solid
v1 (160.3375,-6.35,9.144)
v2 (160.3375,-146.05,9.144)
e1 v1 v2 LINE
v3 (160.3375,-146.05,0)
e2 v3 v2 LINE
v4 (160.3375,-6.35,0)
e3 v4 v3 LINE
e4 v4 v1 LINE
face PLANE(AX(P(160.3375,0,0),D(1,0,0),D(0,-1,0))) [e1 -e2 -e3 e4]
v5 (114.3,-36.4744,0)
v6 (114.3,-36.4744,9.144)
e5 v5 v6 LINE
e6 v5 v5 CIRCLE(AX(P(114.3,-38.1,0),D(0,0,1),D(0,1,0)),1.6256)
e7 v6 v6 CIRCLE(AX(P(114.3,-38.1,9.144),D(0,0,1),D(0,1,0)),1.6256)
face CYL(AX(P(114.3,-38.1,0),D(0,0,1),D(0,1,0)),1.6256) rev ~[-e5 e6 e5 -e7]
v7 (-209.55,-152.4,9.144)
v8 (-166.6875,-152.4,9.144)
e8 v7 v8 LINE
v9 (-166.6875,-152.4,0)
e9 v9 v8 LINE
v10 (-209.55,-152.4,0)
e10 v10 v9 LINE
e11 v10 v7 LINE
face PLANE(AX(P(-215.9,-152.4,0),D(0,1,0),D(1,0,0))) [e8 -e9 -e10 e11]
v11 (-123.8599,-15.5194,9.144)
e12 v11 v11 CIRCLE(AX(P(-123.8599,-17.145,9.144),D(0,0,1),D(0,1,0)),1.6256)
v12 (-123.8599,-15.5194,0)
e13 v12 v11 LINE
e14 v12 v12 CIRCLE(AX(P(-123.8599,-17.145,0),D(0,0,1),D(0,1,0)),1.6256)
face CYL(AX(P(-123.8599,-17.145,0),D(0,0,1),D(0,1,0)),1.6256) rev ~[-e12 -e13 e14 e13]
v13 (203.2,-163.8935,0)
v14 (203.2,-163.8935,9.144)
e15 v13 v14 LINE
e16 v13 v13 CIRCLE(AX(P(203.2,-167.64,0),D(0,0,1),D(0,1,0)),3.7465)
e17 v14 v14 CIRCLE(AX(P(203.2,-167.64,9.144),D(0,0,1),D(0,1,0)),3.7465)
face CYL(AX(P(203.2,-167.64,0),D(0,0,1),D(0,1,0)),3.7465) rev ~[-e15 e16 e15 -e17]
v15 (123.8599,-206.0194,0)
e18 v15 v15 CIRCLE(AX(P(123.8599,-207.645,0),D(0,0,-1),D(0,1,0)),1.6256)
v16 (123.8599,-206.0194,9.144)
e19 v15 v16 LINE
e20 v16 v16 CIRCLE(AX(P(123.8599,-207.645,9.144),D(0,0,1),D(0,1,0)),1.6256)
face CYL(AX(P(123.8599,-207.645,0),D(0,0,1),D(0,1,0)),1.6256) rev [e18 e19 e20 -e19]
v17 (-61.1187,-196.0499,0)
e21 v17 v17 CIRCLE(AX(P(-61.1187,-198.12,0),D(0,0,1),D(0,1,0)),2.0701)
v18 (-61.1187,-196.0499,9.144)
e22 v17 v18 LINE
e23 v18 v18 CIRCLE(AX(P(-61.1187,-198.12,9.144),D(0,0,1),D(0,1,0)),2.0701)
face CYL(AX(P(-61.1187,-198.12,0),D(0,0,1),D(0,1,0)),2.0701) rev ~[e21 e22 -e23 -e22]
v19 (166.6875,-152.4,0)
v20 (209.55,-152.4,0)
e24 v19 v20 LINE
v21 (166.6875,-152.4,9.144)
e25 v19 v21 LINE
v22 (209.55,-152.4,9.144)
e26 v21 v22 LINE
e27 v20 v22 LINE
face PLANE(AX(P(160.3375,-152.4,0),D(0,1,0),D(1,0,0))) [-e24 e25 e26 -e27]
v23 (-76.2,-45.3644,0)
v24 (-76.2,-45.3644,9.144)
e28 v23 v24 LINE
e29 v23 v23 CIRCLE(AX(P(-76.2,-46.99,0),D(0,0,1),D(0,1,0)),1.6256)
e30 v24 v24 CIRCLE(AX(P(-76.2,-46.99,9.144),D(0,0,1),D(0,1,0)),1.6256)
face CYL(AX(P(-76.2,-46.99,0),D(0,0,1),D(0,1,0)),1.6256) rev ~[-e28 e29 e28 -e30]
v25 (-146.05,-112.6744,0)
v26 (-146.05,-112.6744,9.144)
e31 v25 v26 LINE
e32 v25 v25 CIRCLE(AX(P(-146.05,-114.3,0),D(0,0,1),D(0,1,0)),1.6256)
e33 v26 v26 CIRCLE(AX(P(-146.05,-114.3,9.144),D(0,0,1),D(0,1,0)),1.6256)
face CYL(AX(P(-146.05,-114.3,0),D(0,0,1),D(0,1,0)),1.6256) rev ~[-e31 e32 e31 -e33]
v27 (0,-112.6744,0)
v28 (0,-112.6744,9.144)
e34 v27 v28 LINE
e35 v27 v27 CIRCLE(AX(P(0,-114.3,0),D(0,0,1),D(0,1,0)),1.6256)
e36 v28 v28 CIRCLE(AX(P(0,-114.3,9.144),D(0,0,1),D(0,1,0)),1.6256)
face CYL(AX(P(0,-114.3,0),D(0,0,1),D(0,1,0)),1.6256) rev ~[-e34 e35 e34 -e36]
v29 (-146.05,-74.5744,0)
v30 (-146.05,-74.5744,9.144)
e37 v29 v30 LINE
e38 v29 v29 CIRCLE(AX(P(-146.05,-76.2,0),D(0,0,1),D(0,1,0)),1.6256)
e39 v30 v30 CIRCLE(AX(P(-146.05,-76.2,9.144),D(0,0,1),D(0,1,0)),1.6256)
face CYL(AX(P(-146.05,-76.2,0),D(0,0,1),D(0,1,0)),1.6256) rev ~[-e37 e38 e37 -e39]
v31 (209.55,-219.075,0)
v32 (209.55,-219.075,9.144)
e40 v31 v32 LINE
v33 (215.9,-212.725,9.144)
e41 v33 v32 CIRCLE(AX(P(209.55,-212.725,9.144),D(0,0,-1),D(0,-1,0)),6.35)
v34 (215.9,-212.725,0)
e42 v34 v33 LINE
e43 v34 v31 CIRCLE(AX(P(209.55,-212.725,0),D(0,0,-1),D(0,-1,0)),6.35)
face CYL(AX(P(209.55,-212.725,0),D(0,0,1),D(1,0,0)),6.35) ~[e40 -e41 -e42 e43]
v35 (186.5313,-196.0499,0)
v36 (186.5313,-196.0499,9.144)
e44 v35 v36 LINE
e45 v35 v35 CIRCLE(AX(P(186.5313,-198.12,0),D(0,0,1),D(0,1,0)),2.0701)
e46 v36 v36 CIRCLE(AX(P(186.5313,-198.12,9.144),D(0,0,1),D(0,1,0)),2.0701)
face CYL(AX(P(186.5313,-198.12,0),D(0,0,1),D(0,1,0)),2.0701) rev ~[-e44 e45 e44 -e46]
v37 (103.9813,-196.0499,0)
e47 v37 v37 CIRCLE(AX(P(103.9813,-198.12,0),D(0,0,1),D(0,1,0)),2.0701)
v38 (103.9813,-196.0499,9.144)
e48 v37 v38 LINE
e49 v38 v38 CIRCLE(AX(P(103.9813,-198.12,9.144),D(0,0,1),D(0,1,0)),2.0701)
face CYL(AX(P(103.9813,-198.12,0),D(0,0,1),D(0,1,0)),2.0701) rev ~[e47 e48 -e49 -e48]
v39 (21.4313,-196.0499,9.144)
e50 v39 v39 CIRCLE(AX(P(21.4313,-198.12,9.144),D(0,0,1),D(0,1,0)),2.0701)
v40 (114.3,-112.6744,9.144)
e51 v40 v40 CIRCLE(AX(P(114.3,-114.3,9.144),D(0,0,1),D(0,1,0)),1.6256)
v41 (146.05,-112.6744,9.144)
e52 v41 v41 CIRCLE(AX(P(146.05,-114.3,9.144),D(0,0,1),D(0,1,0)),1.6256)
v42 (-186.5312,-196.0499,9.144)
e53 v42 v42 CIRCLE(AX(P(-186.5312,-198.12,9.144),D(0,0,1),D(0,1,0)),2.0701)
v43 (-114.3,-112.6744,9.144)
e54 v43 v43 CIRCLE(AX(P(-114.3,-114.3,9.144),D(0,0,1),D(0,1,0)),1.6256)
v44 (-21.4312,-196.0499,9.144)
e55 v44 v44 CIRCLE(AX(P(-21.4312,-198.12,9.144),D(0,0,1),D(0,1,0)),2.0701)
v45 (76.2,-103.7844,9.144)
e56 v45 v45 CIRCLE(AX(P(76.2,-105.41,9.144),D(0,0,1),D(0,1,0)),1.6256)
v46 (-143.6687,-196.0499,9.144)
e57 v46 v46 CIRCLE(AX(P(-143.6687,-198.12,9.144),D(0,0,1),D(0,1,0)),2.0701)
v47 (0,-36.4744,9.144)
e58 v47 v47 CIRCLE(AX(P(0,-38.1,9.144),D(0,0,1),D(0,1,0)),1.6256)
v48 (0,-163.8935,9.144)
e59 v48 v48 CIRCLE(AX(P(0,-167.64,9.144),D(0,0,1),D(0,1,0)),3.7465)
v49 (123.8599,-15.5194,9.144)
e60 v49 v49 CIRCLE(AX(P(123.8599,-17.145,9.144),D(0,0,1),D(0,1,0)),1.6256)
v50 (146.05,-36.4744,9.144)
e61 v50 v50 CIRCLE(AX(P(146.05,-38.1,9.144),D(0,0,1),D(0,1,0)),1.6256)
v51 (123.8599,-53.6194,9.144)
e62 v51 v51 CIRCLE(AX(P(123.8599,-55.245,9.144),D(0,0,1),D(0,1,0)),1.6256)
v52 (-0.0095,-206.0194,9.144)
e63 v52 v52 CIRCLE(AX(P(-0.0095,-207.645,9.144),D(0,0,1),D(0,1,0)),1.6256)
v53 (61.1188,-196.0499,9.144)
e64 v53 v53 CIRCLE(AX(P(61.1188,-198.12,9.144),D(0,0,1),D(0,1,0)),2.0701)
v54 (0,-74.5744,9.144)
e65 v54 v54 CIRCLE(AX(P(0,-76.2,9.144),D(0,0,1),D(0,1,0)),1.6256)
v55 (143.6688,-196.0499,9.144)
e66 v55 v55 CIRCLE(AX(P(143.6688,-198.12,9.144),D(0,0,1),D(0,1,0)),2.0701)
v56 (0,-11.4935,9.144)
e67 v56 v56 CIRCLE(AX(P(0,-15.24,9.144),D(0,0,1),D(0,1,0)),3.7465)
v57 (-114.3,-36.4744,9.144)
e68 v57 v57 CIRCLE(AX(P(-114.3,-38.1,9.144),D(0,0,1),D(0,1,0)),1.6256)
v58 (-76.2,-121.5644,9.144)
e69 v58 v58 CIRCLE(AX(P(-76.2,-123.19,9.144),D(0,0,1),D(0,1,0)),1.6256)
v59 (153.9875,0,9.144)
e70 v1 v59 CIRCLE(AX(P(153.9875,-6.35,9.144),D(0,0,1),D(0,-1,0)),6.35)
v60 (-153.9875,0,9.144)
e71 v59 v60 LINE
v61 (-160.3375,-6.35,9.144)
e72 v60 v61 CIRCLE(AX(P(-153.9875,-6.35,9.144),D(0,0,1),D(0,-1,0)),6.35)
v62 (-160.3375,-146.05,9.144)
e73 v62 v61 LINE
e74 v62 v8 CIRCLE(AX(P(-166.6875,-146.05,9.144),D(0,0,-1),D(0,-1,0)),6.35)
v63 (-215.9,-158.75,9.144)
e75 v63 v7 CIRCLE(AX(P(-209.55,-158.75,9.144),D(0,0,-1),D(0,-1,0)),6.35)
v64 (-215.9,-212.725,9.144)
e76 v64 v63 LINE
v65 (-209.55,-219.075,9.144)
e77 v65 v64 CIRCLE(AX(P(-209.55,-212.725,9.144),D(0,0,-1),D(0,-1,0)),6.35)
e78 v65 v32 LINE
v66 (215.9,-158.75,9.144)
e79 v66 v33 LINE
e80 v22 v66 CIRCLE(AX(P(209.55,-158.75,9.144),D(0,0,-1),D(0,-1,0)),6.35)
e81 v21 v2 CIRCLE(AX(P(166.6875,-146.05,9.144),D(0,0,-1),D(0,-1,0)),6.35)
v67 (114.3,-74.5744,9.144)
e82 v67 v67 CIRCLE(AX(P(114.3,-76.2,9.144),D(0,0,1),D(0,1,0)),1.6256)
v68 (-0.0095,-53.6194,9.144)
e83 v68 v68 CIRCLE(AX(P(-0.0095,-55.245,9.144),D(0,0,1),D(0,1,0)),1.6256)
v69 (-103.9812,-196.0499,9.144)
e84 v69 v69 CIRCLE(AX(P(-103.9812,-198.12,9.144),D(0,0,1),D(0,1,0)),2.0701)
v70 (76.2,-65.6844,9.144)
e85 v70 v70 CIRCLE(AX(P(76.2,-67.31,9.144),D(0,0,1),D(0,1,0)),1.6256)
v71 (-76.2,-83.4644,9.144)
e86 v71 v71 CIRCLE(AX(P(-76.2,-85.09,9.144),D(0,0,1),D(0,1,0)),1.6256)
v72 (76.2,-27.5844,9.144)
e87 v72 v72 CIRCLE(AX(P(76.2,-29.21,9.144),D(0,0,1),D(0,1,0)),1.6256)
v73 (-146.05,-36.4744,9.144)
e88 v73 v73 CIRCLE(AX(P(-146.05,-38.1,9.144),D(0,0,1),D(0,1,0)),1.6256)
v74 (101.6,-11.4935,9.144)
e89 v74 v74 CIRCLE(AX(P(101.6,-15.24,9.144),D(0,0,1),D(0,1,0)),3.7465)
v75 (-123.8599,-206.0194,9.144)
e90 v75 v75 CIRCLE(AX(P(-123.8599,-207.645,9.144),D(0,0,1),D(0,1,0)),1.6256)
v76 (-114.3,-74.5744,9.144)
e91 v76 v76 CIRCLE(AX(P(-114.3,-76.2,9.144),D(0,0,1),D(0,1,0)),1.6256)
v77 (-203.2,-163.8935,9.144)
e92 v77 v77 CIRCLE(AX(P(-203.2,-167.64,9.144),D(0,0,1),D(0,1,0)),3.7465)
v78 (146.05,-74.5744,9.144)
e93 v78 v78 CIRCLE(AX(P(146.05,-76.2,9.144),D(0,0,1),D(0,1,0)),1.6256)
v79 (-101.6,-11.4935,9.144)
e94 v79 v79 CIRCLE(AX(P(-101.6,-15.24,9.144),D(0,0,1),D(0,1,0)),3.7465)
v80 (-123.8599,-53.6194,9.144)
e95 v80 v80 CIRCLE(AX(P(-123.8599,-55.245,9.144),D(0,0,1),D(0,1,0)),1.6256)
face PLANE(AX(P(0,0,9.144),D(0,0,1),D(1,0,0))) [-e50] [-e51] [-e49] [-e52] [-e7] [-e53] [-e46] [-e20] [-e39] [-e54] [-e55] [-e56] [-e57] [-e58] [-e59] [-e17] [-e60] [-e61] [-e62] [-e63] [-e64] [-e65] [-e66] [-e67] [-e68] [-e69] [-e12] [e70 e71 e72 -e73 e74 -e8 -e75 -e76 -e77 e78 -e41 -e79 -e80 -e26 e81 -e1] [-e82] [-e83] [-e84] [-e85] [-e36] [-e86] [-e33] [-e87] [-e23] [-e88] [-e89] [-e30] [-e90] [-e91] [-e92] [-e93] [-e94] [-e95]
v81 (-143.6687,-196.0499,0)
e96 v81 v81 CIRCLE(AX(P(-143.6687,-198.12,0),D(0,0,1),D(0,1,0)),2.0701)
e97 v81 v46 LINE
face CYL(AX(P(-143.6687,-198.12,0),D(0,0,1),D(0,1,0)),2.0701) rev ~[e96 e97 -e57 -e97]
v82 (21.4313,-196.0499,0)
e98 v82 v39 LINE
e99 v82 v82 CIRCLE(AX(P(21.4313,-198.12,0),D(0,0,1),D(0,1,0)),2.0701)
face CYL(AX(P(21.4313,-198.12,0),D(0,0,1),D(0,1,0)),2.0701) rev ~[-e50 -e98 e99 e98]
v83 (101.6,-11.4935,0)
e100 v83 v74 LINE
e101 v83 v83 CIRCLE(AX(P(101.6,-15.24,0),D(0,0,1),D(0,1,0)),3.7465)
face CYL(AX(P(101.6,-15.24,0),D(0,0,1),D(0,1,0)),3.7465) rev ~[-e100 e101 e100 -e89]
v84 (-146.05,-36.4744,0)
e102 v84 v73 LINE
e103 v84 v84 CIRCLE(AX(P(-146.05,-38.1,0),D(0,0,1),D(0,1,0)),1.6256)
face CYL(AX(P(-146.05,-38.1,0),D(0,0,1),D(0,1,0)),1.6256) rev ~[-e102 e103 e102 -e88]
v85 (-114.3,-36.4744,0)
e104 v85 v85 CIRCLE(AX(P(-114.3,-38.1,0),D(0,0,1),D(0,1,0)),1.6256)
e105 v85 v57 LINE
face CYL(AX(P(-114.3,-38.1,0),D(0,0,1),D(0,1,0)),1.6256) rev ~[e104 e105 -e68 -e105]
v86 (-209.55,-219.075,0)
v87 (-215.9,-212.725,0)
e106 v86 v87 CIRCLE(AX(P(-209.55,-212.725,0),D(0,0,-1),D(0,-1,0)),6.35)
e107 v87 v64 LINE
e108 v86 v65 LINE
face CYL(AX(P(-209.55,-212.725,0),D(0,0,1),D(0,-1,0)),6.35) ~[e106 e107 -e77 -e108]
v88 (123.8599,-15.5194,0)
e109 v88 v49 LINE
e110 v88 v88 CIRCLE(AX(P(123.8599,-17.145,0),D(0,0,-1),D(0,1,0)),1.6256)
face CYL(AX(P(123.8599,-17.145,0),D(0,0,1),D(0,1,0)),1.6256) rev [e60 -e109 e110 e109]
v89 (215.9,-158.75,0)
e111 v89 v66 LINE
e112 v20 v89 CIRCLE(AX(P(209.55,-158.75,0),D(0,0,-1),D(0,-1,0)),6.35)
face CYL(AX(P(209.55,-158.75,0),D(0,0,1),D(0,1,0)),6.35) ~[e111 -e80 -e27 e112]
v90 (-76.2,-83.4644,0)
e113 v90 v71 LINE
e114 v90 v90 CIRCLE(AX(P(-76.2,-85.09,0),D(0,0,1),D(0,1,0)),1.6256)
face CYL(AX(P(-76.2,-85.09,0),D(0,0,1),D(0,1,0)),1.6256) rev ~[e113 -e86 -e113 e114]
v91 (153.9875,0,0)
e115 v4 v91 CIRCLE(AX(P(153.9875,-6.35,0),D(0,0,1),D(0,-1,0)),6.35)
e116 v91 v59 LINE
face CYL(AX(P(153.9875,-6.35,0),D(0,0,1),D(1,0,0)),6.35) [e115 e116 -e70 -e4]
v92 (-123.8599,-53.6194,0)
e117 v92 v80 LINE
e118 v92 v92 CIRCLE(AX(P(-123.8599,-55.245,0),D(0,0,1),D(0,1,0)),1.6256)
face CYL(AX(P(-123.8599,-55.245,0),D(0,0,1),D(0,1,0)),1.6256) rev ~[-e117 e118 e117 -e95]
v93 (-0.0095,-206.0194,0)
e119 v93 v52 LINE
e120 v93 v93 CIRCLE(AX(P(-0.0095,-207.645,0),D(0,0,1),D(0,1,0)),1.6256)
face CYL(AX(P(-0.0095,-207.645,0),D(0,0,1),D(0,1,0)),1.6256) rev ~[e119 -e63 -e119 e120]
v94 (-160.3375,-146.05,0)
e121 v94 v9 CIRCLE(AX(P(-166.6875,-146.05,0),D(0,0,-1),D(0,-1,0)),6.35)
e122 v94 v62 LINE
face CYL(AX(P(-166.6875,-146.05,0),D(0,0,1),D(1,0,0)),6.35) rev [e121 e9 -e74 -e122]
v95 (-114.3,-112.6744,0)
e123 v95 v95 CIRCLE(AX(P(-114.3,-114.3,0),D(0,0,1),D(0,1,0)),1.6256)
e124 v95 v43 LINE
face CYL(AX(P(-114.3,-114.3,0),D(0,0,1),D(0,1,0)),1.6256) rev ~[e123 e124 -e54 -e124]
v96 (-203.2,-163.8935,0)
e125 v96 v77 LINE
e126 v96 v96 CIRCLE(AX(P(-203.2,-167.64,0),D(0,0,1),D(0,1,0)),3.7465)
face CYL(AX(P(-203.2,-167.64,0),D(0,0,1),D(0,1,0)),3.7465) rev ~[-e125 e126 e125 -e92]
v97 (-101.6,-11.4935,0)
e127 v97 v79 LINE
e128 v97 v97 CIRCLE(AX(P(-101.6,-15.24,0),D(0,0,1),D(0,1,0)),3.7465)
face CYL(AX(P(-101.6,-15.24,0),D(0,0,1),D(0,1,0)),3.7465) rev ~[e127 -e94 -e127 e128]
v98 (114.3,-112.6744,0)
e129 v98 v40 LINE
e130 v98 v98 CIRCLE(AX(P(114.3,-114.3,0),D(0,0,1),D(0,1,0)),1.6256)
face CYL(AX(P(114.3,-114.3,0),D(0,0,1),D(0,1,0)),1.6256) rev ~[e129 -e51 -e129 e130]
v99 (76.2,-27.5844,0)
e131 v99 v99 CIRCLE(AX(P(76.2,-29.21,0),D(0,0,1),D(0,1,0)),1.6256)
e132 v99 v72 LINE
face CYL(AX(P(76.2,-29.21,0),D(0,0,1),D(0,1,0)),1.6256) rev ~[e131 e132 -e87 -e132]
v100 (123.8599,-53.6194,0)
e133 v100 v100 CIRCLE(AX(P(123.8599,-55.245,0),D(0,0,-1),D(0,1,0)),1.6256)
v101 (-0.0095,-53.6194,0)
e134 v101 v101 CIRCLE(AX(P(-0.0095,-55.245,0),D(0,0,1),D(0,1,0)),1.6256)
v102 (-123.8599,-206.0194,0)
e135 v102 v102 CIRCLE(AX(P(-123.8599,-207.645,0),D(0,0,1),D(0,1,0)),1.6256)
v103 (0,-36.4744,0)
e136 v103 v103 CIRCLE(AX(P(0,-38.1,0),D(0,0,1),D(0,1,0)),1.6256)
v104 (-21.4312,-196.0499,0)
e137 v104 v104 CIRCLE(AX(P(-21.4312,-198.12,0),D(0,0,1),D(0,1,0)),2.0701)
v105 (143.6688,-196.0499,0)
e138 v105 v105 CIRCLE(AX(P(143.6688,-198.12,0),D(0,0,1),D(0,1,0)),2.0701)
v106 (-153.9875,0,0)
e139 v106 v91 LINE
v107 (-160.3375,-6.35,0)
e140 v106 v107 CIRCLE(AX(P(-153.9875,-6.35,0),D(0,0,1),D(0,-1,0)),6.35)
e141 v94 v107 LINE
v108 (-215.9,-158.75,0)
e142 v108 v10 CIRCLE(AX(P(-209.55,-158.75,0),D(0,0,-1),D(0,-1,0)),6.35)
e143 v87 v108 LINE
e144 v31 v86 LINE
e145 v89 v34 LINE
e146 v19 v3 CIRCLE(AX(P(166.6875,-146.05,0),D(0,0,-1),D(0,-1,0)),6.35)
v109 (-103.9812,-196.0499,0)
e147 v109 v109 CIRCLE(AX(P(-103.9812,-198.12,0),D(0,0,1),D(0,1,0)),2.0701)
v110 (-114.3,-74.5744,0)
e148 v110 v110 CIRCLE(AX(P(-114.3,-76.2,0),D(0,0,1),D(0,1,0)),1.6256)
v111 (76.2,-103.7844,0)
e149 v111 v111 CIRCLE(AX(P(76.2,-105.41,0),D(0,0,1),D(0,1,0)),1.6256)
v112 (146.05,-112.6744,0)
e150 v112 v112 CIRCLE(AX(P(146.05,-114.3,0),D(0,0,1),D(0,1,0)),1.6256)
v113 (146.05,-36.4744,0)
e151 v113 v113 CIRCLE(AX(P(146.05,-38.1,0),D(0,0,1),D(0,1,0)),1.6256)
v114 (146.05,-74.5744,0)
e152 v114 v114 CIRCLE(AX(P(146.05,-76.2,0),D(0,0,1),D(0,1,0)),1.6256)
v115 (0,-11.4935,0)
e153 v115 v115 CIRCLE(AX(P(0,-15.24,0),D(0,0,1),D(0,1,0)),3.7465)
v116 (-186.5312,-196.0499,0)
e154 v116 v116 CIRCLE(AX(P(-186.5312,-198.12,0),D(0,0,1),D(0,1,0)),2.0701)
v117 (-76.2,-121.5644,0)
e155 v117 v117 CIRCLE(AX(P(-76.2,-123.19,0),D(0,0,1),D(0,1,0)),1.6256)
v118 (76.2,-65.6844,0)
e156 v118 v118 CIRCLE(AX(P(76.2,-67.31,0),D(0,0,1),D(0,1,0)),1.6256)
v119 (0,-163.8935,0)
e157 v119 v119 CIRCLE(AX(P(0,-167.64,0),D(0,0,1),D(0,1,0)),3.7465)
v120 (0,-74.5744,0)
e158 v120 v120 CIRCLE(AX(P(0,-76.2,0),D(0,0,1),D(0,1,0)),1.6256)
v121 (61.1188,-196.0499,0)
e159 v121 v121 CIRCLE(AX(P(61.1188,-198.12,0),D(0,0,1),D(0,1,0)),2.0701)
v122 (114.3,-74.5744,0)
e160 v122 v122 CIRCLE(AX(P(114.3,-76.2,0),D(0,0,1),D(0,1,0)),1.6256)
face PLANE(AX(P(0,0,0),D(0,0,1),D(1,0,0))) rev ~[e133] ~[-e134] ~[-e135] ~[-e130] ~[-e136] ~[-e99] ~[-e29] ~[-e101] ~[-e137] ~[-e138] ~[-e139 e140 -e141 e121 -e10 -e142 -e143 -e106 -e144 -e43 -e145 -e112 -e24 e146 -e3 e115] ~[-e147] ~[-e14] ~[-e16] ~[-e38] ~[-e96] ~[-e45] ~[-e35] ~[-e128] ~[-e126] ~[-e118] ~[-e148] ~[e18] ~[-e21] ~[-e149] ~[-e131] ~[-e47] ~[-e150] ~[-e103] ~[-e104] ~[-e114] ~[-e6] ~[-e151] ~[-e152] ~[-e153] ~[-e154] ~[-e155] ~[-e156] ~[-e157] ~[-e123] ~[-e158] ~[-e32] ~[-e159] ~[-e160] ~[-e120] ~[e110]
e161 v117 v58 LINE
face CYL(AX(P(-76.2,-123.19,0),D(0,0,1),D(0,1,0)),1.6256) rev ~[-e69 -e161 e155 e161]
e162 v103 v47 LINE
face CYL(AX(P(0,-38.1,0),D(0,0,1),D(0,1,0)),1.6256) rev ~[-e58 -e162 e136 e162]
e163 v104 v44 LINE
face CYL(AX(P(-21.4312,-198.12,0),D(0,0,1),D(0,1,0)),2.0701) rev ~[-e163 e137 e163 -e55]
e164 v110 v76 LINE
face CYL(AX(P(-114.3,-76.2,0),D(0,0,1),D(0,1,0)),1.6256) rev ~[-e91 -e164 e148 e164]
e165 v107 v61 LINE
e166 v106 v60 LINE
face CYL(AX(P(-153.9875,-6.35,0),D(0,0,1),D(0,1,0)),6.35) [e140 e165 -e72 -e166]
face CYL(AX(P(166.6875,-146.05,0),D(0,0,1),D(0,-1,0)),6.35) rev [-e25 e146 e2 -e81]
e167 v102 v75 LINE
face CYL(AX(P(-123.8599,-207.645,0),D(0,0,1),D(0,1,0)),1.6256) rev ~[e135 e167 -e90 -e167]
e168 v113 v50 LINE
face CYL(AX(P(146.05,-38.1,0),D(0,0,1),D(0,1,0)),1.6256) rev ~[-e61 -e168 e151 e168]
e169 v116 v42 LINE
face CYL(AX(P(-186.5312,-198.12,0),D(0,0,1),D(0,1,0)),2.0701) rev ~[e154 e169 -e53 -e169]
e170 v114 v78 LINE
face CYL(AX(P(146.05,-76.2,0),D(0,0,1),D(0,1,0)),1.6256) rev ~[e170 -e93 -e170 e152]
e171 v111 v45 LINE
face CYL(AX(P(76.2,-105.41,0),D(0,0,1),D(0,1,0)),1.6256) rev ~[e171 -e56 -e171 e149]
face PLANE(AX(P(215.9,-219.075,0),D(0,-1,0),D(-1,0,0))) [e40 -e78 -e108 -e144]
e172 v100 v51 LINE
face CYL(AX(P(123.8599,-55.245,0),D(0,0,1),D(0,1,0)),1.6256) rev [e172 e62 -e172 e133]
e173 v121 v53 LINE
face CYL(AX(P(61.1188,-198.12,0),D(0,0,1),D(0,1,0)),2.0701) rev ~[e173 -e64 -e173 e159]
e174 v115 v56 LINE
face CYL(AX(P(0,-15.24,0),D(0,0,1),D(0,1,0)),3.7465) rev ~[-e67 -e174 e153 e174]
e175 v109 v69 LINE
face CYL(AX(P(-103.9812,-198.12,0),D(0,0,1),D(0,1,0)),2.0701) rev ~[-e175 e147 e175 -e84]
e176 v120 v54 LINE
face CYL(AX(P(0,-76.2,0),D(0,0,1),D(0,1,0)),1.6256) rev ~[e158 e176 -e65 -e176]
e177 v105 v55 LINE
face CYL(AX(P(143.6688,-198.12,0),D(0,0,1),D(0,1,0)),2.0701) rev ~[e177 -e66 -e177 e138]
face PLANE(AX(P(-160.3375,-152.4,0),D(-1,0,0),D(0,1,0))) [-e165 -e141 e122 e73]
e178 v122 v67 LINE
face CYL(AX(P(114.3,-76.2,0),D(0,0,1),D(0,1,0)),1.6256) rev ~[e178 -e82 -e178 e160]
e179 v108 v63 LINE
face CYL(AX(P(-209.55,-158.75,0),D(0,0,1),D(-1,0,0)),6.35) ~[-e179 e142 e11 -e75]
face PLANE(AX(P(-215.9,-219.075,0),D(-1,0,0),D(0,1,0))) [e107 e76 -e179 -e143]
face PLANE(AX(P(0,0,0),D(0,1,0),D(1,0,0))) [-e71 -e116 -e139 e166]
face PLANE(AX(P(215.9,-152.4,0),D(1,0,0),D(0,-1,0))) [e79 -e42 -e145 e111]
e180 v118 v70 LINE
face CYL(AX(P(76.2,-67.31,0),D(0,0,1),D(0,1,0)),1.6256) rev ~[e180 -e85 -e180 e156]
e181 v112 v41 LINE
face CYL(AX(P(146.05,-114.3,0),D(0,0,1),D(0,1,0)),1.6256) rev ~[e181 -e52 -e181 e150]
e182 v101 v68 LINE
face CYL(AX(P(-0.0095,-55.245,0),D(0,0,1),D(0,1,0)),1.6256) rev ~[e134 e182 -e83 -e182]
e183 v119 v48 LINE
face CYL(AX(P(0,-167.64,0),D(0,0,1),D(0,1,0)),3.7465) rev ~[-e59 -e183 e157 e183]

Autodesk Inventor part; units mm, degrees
ref_plane "YZ Plane" through (0, 0, 0) normal (1, 0, 0) x (0, 1, 0)
ref_plane "XZ Plane" through (0, 0, 0) normal (0, 1, 0) x (-1, 0, 0)
ref_plane "XY Plane" through (0, 0, 0) normal (0, 0, 1) x (1, 0, 0)
sketch "Sketch1" plane through (0, 0, 0) normal (0, 0, 1) x (1, 0, 0)
  line L0 (160.3375, -152.4) -> (-160.3375, -152.4)
  line L1 (-160.3375, -152.4) -> (-160.3375, 0)
  line L2 (-160.3375, 0) -> (160.3375, 0)
  line L3 (160.3375, 0) -> (160.3375, -152.4)
  line L4 (0, 223.4715) -> (0, -292.8328) projected
  line L5 (-302.26, 0) -> (302.26, 0) projected
  line L6 (215.9, -219.075) -> (-215.9, -219.075)
  line L7 (-215.9, -219.075) -> (-215.9, -152.4)
  line L8 (-215.9, -152.4) -> (215.9, -152.4)
  line L9 (215.9, -152.4) -> (215.9, -219.075)
  line L10 (215.9, -219.075) -> (-215.9, -152.4) construction
  line L11 (-215.9, -219.075) -> (215.9, -152.4) construction
  line L12 (0, 0) -> (0, 149.7138) construction
  line L13 (-143.6687, -198.12) -> (-186.5312, -198.12) construction
  line L14 (76.2, -105.41) -> (-76.2, -105.41) construction
  line L15 (-76.2, -105.41) -> (-76.2, -123.19) construction
  line L16 (-76.2, -123.19) -> (76.2, -123.19) construction
  line L17 (76.2, -123.19) -> (76.2, -105.41) construction
  line L18 (76.2, -105.41) -> (-76.2, -123.19) construction
  line L19 (-76.2, -105.41) -> (76.2, -123.19) construction
  point P0 (0, -185.7375)
  point P1 (-165.1, -198.12)
  point P2 (0, -114.3)
  point P3 (114.3, -114.3)
  point P4 (-114.3, -114.3)
  point P5 (0, -114.3)
  point P6 (-146.05, -114.3)
  point P7 (146.05, -114.3)
  point P8 (0, -114.3)
  point P9 (0, -114.3)
  dimension "d0" = 320.675
  dimension "d2" = 66.675
  dimension "d3" = 431.8
  dimension "d5" = 152.4
  dimension "d6" = 0
  dimension "d7" = 0
  dimension "d10" = 42.8625
  dimension "d11" = 165.1
  dimension "d12" = 29.3687
  dimension "d24" = 17.78
  dimension "d25" = 152.4
  dimension "d26" = 114.3
  dimension "d27" = 114.3
  dimension "d28" = 114.3
  dimension "d50" = 198.12
  dimension "d55" = 31.75
  dimension "d56" = 31.75
extrude "Extrusion1" add sketch "Sketch1" along normal blind 9.144
hole "Hole1-Regulator Brkt Mtg" at (-186.5312, -198.12, 0) at (-143.6687, -198.12, 0) direction (0, 0, 1) diameter 4.1402 end through all
pattern_linear "Rectangular Pattern1" count 5 spacing 82.55 along (1, 0, 0) of "Hole1-Regulator Brkt Mtg"
sketch "Sketch2" plane through (0, 0, 9.144) normal (0, 0, 1) x (1, 0, 0)
  circle A0 centre (186.5313, -198.12) radius 2.0701 projected
  line L0 (215.9, -219.075) -> (215.9, -152.4) projected
  point P0 (0, 0)
  dimension "d23" = 29.3687
hole "Hole2-Manifold Mtg" at (-114.3, -114.3, 0) at (-76.2, -123.19, 0) at (76.2, -105.41, 0) at (114.3, -114.3, 0) at (0, -114.3, 0) at (-146.05, -114.3, 0) at (146.05, -114.3, 0) direction (0, 0, 1) diameter 3.2512 end through all
sketch "Sketch3" plane through (0, 0, 0) normal (0, 0, 1) x (1, 0, 0)
  line L0 (-101.6, -15.24) -> (101.6, -15.24) construction
  line L1 (-203.2, -167.64) -> (203.2, -167.64) construction
  line L2 (0, 0) -> (0, 149.7138) construction
  line L3 (0, 223.4715) -> (0, -292.8328) construction
  line L4 (-287.02, 0) -> (299.72, 0) construction
  point P0 (0, -15.24)
  point P1 (0, -167.64)
  dimension "d36" = 101.6
  dimension "d37" = 101.6
  dimension "d38" = 15.24
  dimension "d39" = 203.2
  dimension "d40" = 406.4
  dimension "d41" = 152.4
  dimension "d54" = 152.4
hole "Hole3-Mount to Base plate" at (-101.6, -15.24, 0) at (101.6, -15.24, 0) at (203.2, -167.64, 0) at (-203.2, -167.64, 0) at (0, -15.24, 0) at (0, -167.64, 0) direction (0, 0, 1) diameter 7.493 end through all
fillet "Fillet1" radius 6.35 8 edges at (-215.9, -219.075, 4.572) (215.9, -219.075, 4.572) (160.3375, 0, 4.572) (160.3375, -152.4, 4.572) (215.9, -152.4, 4.572) (-215.9, -152.4, 4.572) (-160.3375, -152.4, 4.572) (-160.3375, 0, 4.572)
pattern_linear "Rectangular Pattern2" count 3 spacing 38.1 along (0, 1, 0) of "Hole2-Manifold Mtg"
sketch "Sketch4" plane through (0, 0, 0) normal (0, 0, 1) x (1, 0, 0)
  circle A0 centre (-143.6687, -198.12) radius 2.0701 projected
  circle A1 centre (-103.9812, -198.12) radius 2.0701 projected
  circle A2 centre (-143.6687, -198.12) radius 2.0701 construction
  circle A3 centre (-103.9812, -198.12) radius 2.0701 construction
  line L0 (-143.6687, -198.12) -> (-103.9812, -198.12) construction
  line L1 (-123.8599, -207.645) -> (-123.825, -198.12) construction
  line L2 (0, 43.815) -> (0, -262.89) projected
  point P0 (0, 0)
  point P1 (-123.8599, -55.245)
  point P2 (-123.8599, -17.145)
  dimension "d57" = 152.4
  dimension "d58" = 38.1
  dimension "d66" = 9.525
  dimension "d67" = 123.8599
hole "Hole4-trough mounting" at (-123.8599, -17.145, 0) at (-123.8599, -55.245, 0) at (-123.8599, -207.645, 0) direction (0, 0, 1) diameter 3.2512 end through all
mirror "Mirror1" about plane through (0, 0, 0) normal (1, 0, 0) of "Hole4-trough mounting"
pattern_linear "Rectangular Pattern3" count 2 spacing 123.8504 along (1, 0, 0) of "Hole4-trough mounting"
properties part number "J005209"
